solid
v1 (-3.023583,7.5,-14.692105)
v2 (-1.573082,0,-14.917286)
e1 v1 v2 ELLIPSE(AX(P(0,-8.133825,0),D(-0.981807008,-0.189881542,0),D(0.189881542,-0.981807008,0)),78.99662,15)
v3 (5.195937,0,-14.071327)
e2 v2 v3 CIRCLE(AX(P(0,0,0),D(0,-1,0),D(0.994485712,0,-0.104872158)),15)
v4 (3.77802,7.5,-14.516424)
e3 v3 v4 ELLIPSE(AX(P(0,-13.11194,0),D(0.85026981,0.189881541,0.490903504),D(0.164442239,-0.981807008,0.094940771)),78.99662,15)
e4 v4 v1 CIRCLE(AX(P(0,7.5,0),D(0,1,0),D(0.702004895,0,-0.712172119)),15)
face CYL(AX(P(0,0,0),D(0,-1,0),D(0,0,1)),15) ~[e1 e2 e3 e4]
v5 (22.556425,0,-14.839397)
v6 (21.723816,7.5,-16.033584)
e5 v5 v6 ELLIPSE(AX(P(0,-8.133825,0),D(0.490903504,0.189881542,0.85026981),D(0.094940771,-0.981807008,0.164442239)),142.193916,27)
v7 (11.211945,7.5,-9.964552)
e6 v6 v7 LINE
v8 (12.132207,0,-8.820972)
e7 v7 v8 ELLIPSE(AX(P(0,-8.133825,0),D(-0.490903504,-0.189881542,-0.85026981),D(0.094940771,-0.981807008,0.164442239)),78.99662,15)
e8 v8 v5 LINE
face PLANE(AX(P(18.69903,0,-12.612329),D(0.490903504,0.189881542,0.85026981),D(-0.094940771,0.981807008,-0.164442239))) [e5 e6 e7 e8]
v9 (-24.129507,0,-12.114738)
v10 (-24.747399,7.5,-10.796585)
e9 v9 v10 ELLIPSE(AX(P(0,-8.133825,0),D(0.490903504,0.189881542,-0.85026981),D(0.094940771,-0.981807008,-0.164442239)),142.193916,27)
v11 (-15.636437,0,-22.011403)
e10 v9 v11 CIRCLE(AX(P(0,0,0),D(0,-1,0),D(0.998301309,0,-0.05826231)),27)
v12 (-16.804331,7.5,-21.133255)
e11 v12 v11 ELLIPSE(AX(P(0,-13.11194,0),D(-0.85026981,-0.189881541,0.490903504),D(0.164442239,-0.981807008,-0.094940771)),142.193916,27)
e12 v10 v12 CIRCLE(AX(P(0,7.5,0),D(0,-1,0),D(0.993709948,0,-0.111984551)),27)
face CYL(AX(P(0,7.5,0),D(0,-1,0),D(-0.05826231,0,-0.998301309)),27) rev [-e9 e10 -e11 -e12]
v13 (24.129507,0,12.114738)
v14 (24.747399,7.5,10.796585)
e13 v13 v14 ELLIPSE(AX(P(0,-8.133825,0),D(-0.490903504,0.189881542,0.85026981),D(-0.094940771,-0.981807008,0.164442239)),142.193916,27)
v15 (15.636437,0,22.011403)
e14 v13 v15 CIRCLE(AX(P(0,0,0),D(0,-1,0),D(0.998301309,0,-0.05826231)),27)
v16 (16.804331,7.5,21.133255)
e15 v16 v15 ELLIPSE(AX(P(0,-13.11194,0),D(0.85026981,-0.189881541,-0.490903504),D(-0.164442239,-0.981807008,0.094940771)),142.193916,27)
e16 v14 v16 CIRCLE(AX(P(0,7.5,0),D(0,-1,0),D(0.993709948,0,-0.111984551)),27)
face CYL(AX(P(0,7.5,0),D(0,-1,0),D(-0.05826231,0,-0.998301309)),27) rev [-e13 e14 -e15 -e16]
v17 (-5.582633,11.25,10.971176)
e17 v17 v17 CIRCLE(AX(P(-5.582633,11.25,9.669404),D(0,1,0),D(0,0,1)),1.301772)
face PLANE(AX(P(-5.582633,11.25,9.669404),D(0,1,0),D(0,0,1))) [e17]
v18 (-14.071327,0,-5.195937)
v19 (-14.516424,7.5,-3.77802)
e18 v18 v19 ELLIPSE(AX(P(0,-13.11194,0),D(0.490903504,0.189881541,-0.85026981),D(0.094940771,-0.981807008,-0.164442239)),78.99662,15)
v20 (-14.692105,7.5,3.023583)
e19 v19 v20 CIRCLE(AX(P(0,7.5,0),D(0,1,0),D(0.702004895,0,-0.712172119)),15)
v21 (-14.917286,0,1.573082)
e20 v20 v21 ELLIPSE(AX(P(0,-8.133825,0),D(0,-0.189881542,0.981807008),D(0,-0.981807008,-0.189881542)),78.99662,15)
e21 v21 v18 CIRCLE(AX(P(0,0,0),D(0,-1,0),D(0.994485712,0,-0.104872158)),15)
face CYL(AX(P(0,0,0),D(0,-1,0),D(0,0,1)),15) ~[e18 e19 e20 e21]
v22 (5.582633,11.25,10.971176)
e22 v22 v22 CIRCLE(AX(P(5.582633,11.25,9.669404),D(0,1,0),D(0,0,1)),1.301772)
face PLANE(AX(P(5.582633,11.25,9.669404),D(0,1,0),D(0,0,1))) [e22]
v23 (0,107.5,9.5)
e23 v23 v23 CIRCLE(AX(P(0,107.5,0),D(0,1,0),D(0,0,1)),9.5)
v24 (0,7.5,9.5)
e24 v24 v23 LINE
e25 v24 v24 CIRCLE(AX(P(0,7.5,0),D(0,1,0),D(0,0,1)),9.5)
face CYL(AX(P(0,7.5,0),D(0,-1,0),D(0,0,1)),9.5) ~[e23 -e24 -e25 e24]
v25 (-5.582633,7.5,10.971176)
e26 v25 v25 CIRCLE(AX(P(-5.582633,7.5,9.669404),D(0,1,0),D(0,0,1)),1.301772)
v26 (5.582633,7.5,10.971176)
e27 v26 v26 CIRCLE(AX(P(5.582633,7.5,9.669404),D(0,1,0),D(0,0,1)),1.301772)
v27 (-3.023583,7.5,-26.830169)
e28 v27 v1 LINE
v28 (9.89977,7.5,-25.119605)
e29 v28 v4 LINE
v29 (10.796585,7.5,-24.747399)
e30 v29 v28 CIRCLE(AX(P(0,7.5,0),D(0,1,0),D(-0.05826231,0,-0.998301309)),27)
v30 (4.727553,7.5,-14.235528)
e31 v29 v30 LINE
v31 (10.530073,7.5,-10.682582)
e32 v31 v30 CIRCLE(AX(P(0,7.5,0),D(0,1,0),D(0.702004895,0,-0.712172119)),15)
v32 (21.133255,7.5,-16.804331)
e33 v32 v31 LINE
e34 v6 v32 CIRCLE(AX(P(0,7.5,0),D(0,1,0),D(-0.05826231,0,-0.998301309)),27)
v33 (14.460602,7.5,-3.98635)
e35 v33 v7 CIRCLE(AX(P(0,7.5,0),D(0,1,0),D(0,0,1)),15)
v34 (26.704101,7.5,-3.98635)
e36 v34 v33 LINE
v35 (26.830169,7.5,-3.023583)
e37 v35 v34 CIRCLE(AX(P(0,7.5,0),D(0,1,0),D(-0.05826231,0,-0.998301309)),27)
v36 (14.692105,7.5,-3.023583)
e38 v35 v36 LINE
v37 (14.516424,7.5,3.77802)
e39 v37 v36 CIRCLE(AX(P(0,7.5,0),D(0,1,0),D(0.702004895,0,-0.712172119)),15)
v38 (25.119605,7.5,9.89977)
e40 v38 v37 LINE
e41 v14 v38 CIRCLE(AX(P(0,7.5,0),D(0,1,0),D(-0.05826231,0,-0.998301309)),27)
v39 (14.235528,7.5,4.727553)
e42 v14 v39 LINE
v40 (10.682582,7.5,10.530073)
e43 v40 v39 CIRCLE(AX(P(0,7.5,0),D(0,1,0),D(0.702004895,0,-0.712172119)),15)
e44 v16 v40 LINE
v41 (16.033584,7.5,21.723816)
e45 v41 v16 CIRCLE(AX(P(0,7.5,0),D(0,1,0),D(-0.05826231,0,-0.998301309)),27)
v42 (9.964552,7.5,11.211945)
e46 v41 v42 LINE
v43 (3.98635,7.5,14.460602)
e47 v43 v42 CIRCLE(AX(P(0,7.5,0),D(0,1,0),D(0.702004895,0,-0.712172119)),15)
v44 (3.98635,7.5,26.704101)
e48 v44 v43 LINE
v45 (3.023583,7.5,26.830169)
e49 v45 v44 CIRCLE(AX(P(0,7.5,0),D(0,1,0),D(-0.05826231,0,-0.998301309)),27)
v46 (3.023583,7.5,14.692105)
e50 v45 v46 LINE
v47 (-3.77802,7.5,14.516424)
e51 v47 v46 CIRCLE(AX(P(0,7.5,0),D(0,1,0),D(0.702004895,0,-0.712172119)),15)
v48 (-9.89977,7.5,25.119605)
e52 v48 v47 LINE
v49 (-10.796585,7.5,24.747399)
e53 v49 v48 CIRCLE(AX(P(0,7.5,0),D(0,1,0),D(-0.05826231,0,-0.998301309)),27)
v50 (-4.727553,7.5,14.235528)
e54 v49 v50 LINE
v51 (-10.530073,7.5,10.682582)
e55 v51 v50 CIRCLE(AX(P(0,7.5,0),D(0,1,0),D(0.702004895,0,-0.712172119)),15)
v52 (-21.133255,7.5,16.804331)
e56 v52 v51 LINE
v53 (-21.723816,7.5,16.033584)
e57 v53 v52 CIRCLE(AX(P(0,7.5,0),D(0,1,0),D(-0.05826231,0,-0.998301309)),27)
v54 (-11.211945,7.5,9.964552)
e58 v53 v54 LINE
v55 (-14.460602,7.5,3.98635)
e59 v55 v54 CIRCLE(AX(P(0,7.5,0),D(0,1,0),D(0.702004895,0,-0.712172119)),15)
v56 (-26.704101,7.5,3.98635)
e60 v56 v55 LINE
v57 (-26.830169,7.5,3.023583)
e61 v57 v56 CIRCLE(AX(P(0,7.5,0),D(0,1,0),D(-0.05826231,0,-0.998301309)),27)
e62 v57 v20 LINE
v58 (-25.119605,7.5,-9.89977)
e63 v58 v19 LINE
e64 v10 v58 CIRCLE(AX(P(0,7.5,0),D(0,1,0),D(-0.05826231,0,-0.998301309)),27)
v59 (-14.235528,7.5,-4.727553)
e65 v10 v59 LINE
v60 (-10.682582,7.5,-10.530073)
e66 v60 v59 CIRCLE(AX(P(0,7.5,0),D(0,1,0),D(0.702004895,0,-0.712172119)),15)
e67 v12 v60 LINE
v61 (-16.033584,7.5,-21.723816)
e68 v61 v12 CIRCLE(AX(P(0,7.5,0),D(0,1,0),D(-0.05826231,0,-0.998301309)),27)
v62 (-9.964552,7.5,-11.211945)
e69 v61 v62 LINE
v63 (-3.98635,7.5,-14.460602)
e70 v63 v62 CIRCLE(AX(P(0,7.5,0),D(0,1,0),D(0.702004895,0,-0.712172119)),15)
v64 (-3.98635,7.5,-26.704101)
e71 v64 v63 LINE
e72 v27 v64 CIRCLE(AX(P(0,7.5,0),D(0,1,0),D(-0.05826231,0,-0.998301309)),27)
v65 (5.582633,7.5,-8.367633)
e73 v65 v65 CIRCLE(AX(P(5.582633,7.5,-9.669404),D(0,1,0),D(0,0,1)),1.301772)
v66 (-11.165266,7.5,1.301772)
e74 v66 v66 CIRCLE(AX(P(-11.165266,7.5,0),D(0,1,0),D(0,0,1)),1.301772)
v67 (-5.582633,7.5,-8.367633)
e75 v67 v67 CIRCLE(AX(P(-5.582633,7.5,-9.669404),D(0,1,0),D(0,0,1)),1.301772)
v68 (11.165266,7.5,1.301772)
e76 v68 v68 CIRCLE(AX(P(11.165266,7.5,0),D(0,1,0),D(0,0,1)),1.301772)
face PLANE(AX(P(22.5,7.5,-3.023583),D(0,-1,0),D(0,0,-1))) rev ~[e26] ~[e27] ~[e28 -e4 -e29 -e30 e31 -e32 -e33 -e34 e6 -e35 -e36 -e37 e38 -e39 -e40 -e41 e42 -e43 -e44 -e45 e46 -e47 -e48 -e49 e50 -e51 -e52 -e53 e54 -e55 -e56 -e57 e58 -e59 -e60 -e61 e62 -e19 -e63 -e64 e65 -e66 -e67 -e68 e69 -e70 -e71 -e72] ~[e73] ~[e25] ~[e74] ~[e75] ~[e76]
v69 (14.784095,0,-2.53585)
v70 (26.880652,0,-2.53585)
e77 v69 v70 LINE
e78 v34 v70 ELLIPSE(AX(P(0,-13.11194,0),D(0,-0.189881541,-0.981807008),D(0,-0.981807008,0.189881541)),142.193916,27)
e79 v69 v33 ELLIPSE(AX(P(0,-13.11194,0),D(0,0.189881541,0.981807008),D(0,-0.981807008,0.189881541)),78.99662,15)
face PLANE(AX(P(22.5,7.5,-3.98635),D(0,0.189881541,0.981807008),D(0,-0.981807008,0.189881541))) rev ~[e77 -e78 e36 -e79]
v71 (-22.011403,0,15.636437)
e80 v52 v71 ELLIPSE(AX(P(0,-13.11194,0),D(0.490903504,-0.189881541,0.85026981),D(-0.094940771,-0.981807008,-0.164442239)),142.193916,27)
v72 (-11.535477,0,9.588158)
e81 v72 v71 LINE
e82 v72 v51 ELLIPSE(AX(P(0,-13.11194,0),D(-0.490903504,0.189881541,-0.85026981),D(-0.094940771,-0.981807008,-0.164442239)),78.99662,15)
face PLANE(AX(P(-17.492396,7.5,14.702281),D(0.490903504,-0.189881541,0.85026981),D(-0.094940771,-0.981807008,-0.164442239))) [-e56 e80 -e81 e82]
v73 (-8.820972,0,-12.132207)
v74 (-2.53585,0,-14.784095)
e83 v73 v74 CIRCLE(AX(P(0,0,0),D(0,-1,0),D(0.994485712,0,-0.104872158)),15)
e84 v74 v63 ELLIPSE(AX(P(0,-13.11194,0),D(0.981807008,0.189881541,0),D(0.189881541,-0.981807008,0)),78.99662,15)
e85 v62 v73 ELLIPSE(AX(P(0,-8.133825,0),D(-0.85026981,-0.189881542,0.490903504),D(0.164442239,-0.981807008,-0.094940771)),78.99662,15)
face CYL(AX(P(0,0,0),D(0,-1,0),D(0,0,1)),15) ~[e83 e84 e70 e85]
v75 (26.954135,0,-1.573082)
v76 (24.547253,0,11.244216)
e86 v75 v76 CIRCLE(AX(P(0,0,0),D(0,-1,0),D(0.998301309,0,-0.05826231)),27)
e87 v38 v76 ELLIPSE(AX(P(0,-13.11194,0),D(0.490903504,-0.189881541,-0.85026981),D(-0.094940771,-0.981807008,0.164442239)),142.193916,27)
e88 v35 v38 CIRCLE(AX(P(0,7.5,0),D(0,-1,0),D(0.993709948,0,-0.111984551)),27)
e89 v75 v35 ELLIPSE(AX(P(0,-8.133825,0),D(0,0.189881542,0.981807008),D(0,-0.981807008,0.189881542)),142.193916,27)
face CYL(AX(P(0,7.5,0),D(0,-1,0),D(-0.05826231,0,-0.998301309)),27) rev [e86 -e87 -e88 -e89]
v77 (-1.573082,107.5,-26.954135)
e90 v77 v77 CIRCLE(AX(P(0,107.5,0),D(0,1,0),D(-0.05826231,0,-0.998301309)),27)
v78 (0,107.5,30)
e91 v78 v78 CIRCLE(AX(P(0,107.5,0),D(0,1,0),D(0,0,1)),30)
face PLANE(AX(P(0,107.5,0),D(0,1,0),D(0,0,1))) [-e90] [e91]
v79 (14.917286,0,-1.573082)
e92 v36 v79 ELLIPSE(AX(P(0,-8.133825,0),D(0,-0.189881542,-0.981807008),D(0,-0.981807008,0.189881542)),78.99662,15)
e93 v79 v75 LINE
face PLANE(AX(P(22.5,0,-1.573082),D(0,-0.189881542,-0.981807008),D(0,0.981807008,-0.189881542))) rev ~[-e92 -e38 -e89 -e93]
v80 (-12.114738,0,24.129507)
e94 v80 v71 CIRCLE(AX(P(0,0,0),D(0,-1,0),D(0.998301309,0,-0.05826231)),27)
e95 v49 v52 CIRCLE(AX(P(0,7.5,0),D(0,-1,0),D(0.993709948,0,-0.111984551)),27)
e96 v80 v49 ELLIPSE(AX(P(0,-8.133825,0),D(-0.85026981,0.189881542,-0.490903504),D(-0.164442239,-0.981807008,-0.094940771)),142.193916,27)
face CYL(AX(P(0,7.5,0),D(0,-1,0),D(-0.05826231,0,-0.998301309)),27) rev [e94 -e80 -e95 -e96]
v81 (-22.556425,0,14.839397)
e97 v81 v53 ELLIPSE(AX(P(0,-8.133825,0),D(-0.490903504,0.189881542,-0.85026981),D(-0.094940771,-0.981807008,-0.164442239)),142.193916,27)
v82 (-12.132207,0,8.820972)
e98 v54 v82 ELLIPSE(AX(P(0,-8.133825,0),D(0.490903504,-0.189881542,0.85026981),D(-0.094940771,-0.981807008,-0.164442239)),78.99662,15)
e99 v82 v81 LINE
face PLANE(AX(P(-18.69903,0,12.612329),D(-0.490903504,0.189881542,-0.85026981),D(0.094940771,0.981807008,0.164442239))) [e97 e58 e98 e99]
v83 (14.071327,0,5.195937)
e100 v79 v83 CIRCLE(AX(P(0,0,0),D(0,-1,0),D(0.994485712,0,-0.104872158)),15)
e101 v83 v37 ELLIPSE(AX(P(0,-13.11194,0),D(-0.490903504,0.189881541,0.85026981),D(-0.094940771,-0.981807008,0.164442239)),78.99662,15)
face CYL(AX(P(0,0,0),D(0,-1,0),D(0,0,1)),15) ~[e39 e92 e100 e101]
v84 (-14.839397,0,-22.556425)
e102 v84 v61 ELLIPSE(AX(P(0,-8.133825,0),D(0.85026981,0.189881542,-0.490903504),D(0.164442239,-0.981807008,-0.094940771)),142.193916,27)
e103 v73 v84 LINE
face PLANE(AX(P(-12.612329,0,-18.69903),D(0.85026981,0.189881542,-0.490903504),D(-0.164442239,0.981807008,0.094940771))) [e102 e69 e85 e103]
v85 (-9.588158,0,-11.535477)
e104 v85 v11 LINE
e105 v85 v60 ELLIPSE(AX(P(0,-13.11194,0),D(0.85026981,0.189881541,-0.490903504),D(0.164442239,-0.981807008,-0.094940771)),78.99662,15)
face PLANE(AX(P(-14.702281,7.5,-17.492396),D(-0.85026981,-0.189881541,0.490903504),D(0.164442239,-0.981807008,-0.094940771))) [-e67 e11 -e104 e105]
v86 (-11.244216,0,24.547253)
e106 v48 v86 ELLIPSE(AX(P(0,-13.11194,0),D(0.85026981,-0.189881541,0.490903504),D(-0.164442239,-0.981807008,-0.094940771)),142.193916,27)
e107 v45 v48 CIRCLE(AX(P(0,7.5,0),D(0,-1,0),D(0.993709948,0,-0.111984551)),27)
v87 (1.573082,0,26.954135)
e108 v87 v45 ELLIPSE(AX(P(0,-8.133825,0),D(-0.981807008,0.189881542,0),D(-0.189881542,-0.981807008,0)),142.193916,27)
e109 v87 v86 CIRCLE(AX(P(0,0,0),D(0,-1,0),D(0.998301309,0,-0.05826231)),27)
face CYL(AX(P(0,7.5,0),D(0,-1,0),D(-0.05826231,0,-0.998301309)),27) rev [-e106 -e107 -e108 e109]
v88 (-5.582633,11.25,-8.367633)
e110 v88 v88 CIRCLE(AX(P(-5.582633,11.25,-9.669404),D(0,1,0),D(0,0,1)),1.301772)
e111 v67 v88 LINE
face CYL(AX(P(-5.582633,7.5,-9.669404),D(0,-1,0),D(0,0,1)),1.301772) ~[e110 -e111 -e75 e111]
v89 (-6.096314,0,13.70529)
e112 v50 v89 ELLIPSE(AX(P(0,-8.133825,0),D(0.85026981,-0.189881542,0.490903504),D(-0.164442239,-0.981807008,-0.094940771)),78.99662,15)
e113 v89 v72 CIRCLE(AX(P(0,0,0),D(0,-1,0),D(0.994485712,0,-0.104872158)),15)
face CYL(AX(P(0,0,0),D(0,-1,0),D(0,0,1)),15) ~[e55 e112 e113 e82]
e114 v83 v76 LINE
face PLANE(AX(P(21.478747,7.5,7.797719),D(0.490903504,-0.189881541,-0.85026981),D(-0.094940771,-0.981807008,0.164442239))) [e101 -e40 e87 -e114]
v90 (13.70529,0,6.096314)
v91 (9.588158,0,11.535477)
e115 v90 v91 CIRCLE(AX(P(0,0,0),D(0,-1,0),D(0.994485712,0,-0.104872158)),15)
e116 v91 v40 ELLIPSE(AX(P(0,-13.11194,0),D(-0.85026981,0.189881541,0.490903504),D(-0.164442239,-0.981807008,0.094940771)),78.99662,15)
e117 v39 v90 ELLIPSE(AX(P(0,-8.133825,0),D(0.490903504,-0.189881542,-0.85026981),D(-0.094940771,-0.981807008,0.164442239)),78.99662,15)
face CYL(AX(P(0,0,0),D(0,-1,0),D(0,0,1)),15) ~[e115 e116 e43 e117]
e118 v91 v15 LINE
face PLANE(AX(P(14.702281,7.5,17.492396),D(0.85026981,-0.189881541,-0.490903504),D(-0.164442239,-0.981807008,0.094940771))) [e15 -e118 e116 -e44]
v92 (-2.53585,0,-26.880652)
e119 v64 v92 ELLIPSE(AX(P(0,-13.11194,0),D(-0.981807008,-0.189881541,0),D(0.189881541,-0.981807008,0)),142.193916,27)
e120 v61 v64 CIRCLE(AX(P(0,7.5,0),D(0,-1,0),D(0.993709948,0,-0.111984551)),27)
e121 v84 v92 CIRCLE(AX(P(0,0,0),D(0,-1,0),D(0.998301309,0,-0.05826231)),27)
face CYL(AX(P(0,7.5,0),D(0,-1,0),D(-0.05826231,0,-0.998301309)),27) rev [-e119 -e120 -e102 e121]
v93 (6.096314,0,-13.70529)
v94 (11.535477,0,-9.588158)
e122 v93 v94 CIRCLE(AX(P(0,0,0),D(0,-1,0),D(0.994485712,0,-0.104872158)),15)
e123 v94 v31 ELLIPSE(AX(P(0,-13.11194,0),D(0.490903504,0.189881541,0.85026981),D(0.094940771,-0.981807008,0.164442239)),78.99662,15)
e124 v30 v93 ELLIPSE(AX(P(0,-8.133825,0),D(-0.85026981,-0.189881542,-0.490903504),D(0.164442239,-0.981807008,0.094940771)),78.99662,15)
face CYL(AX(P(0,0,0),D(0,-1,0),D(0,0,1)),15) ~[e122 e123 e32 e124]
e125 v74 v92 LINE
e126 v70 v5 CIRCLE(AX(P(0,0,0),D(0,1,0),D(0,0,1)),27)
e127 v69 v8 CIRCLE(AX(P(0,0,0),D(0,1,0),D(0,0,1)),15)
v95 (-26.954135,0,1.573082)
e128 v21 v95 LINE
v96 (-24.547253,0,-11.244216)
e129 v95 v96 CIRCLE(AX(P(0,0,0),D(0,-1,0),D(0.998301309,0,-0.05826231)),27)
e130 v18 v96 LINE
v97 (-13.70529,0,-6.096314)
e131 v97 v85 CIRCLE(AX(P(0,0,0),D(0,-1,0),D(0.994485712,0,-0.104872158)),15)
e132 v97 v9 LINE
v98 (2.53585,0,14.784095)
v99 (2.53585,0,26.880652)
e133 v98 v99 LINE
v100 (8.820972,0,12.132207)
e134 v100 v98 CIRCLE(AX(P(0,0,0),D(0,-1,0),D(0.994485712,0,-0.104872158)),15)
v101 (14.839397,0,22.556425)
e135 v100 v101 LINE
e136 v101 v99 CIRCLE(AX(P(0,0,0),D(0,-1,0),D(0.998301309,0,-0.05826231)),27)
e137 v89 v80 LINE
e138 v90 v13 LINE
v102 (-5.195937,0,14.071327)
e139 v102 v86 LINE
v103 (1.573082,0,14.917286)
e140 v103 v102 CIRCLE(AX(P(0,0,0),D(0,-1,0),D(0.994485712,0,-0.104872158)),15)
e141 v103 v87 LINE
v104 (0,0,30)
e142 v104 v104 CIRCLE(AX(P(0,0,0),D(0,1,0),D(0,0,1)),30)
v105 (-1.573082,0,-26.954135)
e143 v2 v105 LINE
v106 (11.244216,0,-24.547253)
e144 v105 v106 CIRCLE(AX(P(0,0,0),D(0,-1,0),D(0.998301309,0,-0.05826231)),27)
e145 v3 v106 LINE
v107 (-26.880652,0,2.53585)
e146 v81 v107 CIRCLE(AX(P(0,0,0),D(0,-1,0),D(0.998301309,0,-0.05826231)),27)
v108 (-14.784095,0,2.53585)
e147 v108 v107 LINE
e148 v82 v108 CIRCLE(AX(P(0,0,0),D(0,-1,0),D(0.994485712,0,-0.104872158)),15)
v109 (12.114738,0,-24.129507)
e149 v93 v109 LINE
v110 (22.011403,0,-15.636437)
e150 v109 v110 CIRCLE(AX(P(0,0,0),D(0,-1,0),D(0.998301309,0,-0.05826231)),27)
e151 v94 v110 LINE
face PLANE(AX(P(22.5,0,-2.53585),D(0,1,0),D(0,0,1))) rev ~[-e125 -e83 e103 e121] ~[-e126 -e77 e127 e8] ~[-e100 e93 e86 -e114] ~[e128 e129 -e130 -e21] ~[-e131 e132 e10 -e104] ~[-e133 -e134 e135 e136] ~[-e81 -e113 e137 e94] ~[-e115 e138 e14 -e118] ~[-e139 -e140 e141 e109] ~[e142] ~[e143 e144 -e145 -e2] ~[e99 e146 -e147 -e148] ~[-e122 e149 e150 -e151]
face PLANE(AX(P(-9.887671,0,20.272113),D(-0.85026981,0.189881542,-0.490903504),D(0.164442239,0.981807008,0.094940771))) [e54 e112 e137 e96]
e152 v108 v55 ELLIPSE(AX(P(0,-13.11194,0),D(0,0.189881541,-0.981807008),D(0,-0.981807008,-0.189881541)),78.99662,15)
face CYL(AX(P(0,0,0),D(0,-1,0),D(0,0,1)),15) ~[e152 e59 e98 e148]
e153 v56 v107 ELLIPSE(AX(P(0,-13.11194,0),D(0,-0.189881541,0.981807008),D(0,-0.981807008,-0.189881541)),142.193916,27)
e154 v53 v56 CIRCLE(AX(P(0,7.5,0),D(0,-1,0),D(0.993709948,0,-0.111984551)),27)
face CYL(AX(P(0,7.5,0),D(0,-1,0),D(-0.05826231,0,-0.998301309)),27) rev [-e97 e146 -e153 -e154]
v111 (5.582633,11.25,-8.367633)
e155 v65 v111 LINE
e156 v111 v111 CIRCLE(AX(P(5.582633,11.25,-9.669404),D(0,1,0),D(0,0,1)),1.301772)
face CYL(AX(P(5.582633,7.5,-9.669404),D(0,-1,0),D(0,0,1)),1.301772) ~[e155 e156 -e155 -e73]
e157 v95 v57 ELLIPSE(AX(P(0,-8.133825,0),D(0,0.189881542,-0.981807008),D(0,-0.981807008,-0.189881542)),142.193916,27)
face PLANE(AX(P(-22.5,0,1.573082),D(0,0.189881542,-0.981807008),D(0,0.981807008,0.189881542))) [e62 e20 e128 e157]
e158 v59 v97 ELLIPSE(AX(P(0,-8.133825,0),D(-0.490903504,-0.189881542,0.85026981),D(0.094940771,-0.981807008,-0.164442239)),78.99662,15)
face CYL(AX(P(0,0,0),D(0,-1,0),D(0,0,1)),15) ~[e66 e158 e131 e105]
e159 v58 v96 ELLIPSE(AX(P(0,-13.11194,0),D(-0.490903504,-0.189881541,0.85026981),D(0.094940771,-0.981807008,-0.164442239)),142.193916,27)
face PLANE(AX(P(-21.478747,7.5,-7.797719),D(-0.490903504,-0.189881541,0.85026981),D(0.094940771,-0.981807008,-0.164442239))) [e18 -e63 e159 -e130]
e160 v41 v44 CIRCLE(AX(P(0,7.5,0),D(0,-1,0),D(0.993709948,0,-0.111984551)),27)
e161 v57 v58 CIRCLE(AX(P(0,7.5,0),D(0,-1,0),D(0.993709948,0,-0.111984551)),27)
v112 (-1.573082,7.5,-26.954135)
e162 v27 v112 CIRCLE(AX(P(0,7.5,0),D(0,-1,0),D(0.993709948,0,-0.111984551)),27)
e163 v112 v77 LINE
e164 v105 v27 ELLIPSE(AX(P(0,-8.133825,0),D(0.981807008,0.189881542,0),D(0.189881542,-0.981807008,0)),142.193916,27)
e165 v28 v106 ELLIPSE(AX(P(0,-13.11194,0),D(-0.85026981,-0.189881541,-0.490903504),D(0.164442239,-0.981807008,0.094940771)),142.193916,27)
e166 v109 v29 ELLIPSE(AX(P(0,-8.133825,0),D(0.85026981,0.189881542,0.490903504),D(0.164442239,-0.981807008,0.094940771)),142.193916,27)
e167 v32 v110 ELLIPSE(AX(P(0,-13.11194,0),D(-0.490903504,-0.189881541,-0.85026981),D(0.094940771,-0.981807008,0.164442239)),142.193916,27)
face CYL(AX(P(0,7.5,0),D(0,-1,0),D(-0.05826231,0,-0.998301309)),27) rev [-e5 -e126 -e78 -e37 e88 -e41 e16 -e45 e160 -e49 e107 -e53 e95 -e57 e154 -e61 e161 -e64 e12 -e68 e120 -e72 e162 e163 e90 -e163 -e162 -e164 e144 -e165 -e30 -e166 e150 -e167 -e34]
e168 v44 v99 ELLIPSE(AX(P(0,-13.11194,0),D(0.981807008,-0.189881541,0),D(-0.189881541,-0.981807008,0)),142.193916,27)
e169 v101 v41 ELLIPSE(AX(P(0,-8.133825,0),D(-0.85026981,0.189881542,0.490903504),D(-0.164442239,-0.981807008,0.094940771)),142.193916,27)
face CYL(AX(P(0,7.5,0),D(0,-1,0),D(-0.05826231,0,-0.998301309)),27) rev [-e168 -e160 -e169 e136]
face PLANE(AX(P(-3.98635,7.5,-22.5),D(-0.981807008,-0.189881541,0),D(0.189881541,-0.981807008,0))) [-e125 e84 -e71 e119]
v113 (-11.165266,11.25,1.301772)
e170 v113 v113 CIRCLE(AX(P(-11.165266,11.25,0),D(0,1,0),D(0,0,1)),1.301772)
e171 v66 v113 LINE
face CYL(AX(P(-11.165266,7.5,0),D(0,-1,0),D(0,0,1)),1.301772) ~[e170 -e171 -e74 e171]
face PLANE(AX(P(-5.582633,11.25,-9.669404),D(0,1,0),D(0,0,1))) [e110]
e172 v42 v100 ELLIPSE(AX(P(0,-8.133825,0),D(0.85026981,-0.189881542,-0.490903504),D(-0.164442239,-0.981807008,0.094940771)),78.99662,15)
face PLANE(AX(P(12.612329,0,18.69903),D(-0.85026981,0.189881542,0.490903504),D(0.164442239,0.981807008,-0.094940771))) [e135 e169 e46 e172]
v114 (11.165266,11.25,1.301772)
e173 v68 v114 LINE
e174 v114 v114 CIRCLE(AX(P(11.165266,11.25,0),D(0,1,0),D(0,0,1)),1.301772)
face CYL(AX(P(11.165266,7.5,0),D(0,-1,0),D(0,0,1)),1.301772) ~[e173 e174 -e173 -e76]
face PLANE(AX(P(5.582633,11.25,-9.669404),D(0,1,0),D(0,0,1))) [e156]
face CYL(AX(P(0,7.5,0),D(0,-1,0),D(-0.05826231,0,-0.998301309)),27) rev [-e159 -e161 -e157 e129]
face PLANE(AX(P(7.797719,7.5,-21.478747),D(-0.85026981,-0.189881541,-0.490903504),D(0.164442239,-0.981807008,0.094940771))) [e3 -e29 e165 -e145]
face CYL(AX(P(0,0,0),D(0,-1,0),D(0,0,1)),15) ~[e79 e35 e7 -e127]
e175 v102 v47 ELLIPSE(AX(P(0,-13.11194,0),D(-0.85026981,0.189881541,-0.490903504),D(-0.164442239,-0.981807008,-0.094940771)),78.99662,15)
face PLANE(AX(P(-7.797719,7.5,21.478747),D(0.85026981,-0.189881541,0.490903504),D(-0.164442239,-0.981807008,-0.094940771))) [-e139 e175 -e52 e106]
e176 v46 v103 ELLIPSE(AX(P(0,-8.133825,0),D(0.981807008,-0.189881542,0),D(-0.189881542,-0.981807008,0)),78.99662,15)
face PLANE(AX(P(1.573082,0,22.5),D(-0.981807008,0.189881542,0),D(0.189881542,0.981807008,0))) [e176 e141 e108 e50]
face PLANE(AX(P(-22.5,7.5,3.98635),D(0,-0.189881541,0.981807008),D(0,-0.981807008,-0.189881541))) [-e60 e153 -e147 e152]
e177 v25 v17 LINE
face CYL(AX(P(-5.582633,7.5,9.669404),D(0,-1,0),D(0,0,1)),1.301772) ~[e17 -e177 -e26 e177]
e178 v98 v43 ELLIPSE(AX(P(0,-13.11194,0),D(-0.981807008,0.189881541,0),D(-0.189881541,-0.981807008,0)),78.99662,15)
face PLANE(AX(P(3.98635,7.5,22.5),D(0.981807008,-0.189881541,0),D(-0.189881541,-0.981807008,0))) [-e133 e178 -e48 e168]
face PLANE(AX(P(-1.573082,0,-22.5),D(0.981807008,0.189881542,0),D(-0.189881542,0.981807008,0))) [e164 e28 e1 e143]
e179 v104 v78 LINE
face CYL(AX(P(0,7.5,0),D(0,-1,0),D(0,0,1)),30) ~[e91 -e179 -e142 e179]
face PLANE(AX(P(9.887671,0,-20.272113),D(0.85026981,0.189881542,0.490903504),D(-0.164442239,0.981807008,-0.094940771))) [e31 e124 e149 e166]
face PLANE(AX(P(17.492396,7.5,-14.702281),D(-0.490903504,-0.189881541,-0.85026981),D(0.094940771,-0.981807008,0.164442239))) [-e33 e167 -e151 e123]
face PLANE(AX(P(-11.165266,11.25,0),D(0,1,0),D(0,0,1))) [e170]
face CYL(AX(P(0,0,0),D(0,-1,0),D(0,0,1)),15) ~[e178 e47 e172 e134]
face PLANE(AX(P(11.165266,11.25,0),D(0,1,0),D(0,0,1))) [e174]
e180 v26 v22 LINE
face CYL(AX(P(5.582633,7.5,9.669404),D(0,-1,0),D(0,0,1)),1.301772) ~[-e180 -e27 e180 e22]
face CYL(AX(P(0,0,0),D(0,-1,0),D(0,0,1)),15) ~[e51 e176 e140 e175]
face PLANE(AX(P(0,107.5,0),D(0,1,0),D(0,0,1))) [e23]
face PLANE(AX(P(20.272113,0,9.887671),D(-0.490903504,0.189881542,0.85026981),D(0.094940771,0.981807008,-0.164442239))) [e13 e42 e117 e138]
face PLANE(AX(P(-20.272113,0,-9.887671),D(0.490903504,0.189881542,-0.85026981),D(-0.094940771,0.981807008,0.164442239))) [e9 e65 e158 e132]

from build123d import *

# Parameters (mm, degrees)
SKETCH1_R                            = 20
BOSS_EXTRUDE1_DEPTH                  = 10
SKETCH1_R_2                          = 40
SKETCH1_R_3                          = 36
BOSS_EXTRUDE1_2_DEPTH                = 10
BOSS_EXTRUDE2_REACH                  = 89.446
BOSS_EXTRUDE2_END_RADIUS             = 36
BOSS_EXTRUDE2_START                  = 30
BOSS_EXTRUDE2_DIRECTION_2_REACH      = 89.446
BOSS_EXTRUDE2_DIRECTION_2_END_RADIUS = 20
CIRPATTERN1_COUNT                    = 12
SKETCH5_R                            = 1.735695499
BOSS_EXTRUDE3_DEPTH                  = 5
SCALE1_SCALE                         = 0.75
SKETCH6_R                            = 30
SKETCH6_R_2                          = 27
BOSS_EXTRUDE4_DEPTH                  = 100
SKETCH7_R                            = 9.5
BOSS_EXTRUDE5_DEPTH                  = 100


with BuildPart() as part:
    # Sketch1 → Boss-Extrude1 (new body)
    with BuildSketch(Plane(origin=(0, 0, 0), x_dir=(1, 0, 0), z_dir=(0, 1, 0))):
        with Locations(Location((0, 0, 0), (0, 0, 270))):
            Circle(SKETCH1_R)
    extrude(amount=BOSS_EXTRUDE1_DEPTH)


with BuildPart() as body_2:
    # Sketch1 → Boss-Extrude1 2 (new body)
    with BuildSketch(Plane(origin=(0, 0, 0), x_dir=(1, 0, 0), z_dir=(0, 1, 0))):
        with Locations(Location((0, 0, 0), (0, 0, 270))):
            Circle(SKETCH1_R_2)
        with Locations(Location((0, 0, 0), (0, 0, 270))):
            Circle(SKETCH1_R_3, mode=Mode.SUBTRACT)
    extrude(amount=BOSS_EXTRUDE1_2_DEPTH)


    add(part.part)  # Boss-Extrude2 merges part
    # Boss-Extrude2: up to this cylinder (the profile starts inside it)
    boss_extrude2_end = Plane(origin=(0, 5, 0), z_dir=(0, -1, 0)) * Cylinder(BOSS_EXTRUDE2_END_RADIUS, 251.892, mode=Mode.PRIVATE)
    # Sketch4 → Boss-Extrude2 (add, up to the surface)
    with BuildSketch(Plane(origin=(0, 0, 0), x_dir=(0, 0, -1), z_dir=(1, 0, 0)).offset(BOSS_EXTRUDE2_START), mode=Mode.PRIVATE) as boss_extrude2_sk1:
        Polygon((2.097443169, 0), (4.031443844, 10), (5.315133993, 10), (3.381133319, 0), align=None)
    boss_extrude2_tool1 = extrude(boss_extrude2_sk1.sketch, amount=BOSS_EXTRUDE2_REACH, mode=Mode.PRIVATE) & boss_extrude2_end
    boss_extrude2 = boss_extrude2_tool1.solids().sort_by_distance((30, 5, -3.706289))[0]
    add(boss_extrude2)

    # Boss-Extrude2 direction 2: up to this cylinder (the profile starts outside it)
    boss_extrude2_direction_2_end = Plane(origin=(0, 5, 0), z_dir=(0, -1, 0)) * Cylinder(BOSS_EXTRUDE2_DIRECTION_2_END_RADIUS, 219.892, mode=Mode.PRIVATE)
    # Sketch4 → Boss-Extrude2 direction 2 (add, up to the surface)
    with BuildSketch(Plane(origin=(0, 0, 0), x_dir=(0, 0, -1), z_dir=(1, 0, 0)).offset(BOSS_EXTRUDE2_START), mode=Mode.PRIVATE) as boss_extrude2_direction_2_sk1:
        Polygon((2.097443169, 0), (4.031443844, 10), (5.315133993, 10), (3.381133319, 0), align=None)
    boss_extrude2_direction_2_tool1 = extrude(boss_extrude2_direction_2_sk1.sketch, amount=-BOSS_EXTRUDE2_DIRECTION_2_REACH, mode=Mode.PRIVATE) - boss_extrude2_direction_2_end
    boss_extrude2_direction_2 = boss_extrude2_direction_2_tool1.solids().sort_by_distance((30, 5, -3.706289))[0]
    add(boss_extrude2_direction_2)
    boss_extrude2 = boss_extrude2 + boss_extrude2_direction_2  # both directions under the feature's name, for the pattern or mirror that repeats it

    # CirPattern1: Boss-Extrude2 ×12 about axis
    cirpattern1_axis = Axis((0, 0, 0), (0, 1, 0))
    for i in range(1, CIRPATTERN1_COUNT):
        add(boss_extrude2.rotate(cirpattern1_axis, i * 360 / CIRPATTERN1_COUNT))

    # Sketch5 → Boss-Extrude3 (add)
    with BuildSketch(Plane(origin=(0, 10, 0), x_dir=(1, 0, 0), z_dir=(0, 1, 0))):
        with Locations(Location((-14.887021655, 0, 0), (0, 0, 270))):
            Circle(SKETCH5_R)
        with Locations(Location((-7.443510827, 12.89253894, 0), (0, 0, 270))):
            Circle(SKETCH5_R)
        with Locations(Location((7.443510827, 12.89253894, 0), (0, 0, 270))):
            Circle(SKETCH5_R)
        with Locations(Location((14.887021655, 0, 0), (0, 0, 270))):
            Circle(SKETCH5_R)
        with Locations(Location((7.443510827, -12.89253894, 0), (0, 0, 270))):
            Circle(SKETCH5_R)
        with Locations(Location((-7.443510827, -12.89253894, 0), (0, 0, 270))):
            Circle(SKETCH5_R)
    extrude(amount=BOSS_EXTRUDE3_DEPTH)


with BuildPart() as body_2_1:
    # Scale1: scaled about (0, 0, 0)
    add(body_2.part.scale(SCALE1_SCALE))

    # Sketch6 → Boss-Extrude4 (add)
    with BuildSketch(Plane(origin=(0, 7.5, 0), x_dir=(1, 0, 0), z_dir=(0, 1, 0))):
        with Locations(Location((0, 0, 0), (0, 0, 270))):
            Circle(SKETCH6_R)
        with Locations(Location((0, 0, 0), (0, 0, 93.340075949))):
            Circle(SKETCH6_R_2, mode=Mode.SUBTRACT)
    extrude(amount=BOSS_EXTRUDE4_DEPTH)

    # Sketch7 → Boss-Extrude5 (add)
    with BuildSketch(Plane(origin=(0, 7.5, 0), x_dir=(1, 0, 0), z_dir=(0, 1, 0))):
        with Locations(Location((0, 0, 0), (0, 0, 270))):
            Circle(SKETCH7_R)
    extrude(amount=BOSS_EXTRUDE5_DEPTH)


solid = body_2_1.part
